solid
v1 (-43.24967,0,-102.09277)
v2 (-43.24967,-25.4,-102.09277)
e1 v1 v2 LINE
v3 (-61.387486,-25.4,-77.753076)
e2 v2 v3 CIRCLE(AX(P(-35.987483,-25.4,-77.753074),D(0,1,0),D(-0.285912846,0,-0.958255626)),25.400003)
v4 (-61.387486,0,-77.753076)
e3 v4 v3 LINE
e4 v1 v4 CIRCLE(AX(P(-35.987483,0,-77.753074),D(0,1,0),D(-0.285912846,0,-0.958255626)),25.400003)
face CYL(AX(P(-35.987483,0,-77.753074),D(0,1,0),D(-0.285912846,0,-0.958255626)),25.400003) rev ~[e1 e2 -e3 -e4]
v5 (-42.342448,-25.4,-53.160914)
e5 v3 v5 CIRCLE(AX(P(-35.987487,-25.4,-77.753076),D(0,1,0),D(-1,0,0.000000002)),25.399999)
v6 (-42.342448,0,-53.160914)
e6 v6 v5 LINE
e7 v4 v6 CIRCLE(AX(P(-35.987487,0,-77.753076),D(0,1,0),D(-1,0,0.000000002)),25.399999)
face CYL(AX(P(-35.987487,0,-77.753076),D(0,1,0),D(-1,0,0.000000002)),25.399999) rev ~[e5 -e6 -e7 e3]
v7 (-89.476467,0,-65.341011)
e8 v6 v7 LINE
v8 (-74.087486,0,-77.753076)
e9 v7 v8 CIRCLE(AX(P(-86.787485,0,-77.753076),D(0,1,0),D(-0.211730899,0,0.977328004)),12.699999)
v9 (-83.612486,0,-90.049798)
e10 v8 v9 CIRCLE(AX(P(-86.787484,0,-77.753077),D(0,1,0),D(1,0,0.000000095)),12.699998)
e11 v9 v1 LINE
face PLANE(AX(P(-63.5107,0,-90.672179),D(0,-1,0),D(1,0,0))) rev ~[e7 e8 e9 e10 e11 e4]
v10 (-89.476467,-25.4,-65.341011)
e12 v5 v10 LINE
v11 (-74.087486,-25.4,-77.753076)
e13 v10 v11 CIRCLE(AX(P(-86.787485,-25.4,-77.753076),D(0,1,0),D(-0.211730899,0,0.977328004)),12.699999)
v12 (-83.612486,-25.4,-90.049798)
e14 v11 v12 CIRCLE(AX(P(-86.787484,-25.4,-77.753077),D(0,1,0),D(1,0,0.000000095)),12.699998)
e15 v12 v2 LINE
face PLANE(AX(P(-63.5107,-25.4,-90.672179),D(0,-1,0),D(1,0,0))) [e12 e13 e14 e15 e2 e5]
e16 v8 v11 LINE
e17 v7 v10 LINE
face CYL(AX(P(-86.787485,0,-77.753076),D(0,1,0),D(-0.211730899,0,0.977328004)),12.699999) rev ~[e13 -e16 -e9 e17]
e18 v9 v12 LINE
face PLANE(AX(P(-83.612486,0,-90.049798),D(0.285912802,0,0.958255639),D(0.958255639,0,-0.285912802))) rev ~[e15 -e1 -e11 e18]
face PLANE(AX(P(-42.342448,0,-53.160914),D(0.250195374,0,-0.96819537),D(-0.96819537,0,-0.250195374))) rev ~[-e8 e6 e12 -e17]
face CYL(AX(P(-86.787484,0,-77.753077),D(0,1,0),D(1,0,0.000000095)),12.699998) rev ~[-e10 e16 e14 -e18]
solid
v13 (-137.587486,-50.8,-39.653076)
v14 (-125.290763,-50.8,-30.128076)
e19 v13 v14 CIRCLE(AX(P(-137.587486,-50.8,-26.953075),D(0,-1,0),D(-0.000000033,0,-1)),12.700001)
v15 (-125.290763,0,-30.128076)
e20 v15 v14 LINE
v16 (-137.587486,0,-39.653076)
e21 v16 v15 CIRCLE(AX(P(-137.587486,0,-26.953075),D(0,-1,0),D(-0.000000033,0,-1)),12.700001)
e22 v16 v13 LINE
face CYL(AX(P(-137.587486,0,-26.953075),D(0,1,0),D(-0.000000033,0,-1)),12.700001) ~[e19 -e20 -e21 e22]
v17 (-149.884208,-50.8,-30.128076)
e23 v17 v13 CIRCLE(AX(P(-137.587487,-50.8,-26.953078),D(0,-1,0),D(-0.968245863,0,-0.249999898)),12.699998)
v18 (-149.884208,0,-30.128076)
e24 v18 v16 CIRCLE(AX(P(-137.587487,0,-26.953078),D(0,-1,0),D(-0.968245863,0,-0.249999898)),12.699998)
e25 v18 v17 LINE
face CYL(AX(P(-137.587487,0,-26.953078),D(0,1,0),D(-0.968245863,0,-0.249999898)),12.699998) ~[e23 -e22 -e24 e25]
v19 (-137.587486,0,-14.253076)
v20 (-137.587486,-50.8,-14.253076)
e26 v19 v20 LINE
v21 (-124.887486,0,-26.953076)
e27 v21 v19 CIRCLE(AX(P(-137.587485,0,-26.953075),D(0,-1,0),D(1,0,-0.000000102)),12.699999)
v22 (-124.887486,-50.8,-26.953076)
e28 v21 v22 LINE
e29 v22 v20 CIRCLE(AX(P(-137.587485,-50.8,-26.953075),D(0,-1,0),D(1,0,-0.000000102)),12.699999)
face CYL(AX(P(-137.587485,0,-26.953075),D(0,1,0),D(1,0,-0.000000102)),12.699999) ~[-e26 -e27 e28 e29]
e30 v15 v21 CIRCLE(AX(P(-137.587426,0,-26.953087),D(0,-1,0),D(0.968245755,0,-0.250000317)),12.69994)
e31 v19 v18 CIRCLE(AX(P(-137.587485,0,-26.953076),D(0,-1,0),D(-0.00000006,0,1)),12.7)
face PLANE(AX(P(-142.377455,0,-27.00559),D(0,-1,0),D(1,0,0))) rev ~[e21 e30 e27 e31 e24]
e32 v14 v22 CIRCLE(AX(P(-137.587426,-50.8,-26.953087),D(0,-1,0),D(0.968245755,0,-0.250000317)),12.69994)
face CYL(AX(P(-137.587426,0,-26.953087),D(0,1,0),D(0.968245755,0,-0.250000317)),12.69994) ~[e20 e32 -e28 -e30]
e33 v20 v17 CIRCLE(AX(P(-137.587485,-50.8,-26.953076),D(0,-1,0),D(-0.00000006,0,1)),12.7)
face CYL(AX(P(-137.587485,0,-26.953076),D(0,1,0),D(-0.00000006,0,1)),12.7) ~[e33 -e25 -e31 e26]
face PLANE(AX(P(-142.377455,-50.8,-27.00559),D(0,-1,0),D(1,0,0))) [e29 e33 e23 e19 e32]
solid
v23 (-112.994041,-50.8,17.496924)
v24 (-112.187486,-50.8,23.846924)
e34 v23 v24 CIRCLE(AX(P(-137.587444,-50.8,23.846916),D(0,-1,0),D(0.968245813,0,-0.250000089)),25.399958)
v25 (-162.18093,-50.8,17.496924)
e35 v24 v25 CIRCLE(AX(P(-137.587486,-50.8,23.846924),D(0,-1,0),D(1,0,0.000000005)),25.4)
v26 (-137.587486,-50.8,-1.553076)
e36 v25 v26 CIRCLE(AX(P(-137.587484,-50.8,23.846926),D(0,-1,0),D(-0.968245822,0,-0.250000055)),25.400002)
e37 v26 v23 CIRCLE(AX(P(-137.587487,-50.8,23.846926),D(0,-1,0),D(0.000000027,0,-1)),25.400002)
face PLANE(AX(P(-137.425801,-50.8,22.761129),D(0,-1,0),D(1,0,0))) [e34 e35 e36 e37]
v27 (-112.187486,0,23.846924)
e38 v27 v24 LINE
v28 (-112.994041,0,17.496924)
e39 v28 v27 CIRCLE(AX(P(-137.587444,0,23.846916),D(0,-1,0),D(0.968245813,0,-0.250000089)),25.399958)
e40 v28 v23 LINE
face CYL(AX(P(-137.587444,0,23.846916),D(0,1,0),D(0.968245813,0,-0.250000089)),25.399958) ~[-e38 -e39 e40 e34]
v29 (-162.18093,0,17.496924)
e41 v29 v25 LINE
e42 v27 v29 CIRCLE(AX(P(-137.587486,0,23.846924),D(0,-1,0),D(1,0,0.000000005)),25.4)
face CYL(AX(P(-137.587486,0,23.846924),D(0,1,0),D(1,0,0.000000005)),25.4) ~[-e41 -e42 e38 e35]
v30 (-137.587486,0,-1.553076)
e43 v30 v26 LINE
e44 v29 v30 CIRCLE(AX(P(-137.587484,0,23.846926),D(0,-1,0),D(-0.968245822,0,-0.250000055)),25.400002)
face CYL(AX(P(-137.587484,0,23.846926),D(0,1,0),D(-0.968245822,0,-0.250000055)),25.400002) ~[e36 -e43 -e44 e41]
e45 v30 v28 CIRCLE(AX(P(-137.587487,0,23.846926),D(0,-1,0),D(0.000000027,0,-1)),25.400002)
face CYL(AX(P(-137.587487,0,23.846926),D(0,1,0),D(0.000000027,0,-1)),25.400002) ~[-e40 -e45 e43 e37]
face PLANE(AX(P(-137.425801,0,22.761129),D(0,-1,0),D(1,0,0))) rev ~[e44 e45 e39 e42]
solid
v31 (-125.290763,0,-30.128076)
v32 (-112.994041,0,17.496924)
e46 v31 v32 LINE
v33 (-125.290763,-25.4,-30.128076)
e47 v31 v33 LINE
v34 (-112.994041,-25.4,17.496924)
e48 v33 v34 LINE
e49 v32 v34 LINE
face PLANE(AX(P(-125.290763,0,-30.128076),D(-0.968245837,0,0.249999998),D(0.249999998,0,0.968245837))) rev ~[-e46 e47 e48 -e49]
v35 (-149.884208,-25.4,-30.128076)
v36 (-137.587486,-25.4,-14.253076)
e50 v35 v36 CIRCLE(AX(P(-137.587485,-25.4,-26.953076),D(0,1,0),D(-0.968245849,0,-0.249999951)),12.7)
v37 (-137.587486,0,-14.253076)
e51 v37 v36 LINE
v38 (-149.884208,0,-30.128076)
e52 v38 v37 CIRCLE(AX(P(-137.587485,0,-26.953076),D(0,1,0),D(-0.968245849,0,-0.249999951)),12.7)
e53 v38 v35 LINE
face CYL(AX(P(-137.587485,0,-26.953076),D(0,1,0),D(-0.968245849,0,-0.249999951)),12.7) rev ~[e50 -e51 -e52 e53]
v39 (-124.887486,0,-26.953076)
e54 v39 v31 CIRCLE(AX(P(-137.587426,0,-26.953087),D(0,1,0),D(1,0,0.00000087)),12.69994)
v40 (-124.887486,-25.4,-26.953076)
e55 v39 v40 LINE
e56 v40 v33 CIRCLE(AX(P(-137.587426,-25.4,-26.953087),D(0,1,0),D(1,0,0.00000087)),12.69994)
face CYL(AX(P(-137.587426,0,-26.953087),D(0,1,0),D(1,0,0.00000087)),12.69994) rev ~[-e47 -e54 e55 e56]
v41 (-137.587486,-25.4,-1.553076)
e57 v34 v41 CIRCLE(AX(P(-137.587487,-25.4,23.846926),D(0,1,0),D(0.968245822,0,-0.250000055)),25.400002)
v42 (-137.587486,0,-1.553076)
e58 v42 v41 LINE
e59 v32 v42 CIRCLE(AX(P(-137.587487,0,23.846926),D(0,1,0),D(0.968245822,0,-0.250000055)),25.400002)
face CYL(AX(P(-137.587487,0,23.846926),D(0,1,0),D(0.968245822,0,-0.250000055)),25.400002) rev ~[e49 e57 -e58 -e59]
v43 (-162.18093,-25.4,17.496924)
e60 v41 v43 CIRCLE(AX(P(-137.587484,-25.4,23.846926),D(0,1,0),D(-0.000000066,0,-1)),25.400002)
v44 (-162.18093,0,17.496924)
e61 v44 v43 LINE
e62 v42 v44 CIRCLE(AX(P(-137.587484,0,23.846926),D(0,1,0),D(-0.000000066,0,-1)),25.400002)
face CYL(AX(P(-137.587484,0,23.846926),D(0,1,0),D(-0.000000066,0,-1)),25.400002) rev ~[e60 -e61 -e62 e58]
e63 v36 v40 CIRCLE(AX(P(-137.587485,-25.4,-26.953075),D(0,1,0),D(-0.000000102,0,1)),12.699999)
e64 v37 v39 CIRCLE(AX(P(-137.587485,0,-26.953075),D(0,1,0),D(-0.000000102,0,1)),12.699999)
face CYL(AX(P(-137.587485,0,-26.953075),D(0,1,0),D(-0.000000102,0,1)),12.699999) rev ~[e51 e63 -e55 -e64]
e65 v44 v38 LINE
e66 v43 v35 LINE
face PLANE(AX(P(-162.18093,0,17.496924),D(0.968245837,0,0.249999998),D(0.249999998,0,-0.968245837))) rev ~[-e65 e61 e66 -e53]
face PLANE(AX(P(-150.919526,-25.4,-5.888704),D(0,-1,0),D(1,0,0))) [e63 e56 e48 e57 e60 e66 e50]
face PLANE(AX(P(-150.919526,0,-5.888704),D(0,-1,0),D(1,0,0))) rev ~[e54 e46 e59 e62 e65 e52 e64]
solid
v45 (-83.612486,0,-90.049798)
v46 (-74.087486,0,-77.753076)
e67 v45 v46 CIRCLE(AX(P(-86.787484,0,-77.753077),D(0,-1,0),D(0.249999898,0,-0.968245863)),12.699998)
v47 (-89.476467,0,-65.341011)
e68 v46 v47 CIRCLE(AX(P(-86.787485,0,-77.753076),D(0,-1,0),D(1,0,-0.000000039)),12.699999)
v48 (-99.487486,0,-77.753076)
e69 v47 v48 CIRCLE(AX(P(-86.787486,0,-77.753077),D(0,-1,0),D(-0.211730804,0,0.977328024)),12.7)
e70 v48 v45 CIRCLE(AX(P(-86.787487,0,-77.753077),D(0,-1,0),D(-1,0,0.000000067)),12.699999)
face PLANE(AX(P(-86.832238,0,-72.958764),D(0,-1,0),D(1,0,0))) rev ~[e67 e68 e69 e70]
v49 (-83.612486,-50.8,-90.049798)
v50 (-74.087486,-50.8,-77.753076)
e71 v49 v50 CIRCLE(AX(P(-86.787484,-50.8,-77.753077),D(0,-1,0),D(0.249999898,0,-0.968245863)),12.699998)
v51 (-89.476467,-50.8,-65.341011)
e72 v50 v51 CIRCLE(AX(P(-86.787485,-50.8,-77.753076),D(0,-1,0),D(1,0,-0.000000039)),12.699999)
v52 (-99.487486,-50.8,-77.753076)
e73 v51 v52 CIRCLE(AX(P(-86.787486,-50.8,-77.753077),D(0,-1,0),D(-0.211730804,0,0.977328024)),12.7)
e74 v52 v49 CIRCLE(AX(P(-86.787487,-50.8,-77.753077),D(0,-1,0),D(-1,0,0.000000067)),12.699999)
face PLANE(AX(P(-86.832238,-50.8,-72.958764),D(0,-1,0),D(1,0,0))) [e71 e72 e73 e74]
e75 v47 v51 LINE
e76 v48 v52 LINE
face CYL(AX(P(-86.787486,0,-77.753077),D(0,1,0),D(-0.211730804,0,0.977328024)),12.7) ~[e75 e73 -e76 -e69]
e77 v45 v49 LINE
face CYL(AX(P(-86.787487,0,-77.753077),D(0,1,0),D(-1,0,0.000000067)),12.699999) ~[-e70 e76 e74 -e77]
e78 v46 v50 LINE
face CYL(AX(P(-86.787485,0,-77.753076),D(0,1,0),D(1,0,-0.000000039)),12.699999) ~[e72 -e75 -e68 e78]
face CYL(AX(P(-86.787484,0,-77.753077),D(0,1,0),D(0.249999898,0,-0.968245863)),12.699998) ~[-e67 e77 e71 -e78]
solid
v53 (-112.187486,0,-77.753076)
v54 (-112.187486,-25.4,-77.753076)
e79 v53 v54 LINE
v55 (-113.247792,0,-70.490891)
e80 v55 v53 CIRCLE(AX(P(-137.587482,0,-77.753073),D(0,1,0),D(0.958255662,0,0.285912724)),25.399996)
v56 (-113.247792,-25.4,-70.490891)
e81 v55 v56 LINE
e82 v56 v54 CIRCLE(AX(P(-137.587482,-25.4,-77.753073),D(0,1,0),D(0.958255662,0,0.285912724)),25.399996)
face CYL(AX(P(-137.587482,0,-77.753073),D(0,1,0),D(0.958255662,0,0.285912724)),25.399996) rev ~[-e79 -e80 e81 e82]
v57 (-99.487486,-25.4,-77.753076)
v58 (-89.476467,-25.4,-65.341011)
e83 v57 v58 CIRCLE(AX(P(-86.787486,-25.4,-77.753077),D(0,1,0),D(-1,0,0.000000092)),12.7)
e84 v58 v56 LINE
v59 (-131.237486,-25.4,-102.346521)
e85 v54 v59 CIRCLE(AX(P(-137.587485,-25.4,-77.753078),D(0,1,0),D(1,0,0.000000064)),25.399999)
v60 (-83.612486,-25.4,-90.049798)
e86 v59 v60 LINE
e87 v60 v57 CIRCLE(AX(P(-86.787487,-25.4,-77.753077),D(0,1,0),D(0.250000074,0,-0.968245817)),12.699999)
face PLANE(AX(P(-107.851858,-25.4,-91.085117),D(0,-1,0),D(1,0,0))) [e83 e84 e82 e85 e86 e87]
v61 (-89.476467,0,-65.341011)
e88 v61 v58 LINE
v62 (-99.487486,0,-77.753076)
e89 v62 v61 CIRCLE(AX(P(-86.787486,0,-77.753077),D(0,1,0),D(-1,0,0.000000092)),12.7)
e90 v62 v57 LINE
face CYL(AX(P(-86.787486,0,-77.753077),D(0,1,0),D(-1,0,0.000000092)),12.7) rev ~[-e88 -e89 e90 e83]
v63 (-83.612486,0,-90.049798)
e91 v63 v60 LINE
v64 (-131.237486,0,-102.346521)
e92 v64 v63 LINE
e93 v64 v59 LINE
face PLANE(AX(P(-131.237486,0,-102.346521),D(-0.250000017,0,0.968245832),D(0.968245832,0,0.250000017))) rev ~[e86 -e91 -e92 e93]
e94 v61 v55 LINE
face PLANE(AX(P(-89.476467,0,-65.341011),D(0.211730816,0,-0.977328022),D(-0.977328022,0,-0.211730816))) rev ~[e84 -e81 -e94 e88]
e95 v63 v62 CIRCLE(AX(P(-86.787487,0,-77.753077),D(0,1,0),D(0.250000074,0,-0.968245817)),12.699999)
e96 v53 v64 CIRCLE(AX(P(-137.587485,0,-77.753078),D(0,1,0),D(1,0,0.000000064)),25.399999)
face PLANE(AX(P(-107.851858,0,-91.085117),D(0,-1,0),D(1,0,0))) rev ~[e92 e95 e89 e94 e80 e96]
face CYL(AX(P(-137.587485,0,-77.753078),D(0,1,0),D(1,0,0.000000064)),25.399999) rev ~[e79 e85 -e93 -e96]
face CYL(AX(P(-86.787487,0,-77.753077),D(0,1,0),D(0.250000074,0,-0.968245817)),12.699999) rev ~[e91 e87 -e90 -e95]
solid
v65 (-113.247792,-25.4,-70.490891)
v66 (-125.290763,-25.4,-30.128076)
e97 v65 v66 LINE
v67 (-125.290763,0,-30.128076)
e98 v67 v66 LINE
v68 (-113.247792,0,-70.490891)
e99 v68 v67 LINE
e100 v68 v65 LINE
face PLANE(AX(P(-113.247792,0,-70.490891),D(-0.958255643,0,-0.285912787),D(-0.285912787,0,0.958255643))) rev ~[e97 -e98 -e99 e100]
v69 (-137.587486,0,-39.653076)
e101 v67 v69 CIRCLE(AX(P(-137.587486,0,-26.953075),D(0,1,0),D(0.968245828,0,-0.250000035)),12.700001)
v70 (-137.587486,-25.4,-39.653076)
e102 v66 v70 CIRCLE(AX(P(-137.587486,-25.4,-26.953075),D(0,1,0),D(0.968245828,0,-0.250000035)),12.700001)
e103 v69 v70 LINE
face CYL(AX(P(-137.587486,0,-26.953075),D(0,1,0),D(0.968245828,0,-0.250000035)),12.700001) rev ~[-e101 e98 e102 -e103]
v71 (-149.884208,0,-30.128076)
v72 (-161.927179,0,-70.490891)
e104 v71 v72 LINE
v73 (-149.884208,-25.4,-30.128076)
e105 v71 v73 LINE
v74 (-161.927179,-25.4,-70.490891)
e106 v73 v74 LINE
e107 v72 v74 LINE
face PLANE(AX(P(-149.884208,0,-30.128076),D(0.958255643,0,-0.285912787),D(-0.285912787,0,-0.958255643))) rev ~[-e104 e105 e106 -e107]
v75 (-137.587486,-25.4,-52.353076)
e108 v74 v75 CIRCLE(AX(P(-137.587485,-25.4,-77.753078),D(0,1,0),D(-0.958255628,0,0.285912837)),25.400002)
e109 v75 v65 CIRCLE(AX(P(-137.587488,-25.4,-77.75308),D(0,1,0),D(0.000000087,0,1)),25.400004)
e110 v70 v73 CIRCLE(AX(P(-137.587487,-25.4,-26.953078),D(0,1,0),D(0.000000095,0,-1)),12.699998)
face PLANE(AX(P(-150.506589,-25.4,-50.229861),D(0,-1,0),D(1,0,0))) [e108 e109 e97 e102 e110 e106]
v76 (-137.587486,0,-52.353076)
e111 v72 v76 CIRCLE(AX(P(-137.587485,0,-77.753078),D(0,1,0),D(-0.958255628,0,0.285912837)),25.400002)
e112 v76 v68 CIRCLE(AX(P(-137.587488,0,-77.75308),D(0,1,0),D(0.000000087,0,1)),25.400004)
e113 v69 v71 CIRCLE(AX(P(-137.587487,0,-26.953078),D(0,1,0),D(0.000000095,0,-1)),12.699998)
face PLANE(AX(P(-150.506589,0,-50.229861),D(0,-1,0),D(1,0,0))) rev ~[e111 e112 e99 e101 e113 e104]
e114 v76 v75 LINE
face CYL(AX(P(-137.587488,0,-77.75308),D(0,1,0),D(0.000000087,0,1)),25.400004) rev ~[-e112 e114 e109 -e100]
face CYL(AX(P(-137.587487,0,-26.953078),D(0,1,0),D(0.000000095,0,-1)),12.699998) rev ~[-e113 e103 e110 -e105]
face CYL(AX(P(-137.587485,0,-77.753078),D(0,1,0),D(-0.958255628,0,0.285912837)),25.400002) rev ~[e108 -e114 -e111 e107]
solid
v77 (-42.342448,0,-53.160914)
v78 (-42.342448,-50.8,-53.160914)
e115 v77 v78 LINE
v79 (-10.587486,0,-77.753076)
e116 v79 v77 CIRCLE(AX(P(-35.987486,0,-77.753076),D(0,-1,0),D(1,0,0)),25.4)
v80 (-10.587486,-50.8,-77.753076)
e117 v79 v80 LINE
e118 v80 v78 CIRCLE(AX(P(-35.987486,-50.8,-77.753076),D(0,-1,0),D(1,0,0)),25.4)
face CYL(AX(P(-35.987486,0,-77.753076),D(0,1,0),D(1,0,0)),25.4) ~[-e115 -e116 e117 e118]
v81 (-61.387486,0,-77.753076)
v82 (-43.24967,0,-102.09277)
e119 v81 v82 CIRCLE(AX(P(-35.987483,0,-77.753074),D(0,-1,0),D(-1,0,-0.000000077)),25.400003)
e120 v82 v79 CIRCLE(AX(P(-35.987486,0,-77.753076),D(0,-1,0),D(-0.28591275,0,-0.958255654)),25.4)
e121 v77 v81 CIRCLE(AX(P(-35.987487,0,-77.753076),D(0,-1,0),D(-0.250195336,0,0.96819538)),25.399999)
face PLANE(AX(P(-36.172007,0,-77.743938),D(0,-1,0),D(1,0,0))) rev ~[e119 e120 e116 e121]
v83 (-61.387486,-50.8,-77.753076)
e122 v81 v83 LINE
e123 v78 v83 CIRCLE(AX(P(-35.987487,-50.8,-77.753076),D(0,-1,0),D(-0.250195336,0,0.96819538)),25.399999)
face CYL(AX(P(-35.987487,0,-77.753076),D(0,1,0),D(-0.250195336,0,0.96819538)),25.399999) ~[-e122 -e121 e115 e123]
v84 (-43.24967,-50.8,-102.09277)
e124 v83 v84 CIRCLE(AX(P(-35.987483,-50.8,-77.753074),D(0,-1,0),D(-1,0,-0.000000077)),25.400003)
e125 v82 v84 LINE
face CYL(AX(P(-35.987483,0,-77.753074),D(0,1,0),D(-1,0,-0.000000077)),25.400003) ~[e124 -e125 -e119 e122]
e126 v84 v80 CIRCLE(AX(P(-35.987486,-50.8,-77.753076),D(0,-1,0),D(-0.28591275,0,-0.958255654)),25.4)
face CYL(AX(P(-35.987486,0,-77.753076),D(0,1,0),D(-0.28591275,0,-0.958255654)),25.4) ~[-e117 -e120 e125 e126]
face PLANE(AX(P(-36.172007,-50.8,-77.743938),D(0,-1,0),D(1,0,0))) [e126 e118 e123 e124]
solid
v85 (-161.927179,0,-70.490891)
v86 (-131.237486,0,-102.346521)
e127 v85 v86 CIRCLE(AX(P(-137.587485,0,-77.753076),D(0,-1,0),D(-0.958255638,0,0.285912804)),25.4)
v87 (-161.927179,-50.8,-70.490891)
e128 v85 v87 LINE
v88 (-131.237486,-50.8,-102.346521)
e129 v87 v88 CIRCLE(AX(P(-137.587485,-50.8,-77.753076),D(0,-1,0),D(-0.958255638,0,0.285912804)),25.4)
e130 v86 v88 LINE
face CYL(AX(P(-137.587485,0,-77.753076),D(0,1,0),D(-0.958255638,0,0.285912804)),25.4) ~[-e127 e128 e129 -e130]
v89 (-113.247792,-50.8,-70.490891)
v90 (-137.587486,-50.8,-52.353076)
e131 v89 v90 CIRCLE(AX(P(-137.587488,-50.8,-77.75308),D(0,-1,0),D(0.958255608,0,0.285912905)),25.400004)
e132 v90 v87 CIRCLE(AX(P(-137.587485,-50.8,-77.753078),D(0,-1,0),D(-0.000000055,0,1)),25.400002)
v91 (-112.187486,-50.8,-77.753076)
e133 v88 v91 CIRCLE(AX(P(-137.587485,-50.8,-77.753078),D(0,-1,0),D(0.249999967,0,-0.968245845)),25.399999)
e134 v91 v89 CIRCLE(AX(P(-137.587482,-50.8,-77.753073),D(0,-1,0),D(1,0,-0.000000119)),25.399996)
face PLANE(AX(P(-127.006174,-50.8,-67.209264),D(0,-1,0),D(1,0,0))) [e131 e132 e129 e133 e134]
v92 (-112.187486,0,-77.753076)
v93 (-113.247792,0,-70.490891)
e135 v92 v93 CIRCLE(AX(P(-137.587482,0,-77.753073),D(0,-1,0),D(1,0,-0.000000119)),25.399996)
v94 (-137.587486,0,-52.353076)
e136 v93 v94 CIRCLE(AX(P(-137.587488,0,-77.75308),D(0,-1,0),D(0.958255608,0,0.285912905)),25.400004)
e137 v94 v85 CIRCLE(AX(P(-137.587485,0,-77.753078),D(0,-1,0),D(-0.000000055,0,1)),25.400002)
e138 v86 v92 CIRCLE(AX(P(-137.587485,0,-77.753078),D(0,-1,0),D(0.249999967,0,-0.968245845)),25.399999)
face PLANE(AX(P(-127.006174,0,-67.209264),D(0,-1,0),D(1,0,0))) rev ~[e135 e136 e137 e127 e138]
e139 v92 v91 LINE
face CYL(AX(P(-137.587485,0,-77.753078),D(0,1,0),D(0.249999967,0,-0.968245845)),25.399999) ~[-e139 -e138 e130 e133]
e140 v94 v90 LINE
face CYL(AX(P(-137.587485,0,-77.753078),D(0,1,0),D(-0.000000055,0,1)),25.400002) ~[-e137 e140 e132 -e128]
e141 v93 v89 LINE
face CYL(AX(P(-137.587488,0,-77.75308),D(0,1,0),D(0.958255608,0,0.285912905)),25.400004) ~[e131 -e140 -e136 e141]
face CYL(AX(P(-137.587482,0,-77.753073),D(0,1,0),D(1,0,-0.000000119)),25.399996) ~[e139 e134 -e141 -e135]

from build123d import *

# Parameters (mm, degrees)
F1_DEPTH = 50.8
F2_DEPTH = 25.4


with BuildPart() as f1:
    # F0 (on Front) → F1 (new body)
    with BuildSketch(Plane.XZ):
        with BuildLine():
            ThreePointArc((-137.587486, -1.553076), (-122.033226, 3.766461), (-112.994041, 17.496924))
            ThreePointArc((-112.994041, 17.496924), (-112.389931, 20.646415), (-112.187486, 23.846924))
            ThreePointArc((-112.187486, 23.846924), (-140.787995, 49.044478), (-162.18093, 17.496924))
            ThreePointArc((-162.18093, 17.496924), (-153.141745, 3.766461), (-137.587486, -1.553076))
        make_face()
        with BuildLine():
            ThreePointArc((-149.884208, -30.128076), (-145.364616, -36.993308), (-137.587486, -39.653076))
            Line((-137.587486, -39.653076), (-137.587486, -26.953076))
            Line((-137.587486, -26.953076), (-137.587486, -14.253076))
            ThreePointArc((-137.587486, -14.253076), (-147.627717, -19.175946), (-149.884208, -30.128076))
        make_face()
        with BuildLine():
            Line((-137.587486, -52.353076), (-137.587486, -77.753076))
            Line((-137.587486, -77.753076), (-112.187486, -77.753076))
            ThreePointArc((-112.187486, -77.753076), (-112.45396, -74.083486), (-113.247792, -70.490891))
            ThreePointArc((-113.247792, -70.490891), (-122.410192, -57.386198), (-137.587486, -52.353076))
        make_face()
        with BuildLine():
            Line((-112.187486, -77.753076), (-137.587486, -77.753076))
            Line((-137.587486, -77.753076), (-137.587486, -52.353076))
            ThreePointArc((-137.587486, -52.353076), (-152.76478, -57.386198), (-161.927179, -70.490891))
            ThreePointArc((-161.927179, -70.490891), (-155.87963, -95.375717), (-131.237486, -102.346521))
            ThreePointArc((-131.237486, -102.346521), (-117.507022, -93.307336), (-112.187486, -77.753076))
        make_face()
        with BuildLine():
            Line((-137.587486, -26.953076), (-137.587486, -39.653076))
            ThreePointArc((-137.587486, -39.653076), (-129.810356, -36.993308), (-125.290763, -30.128076))
            ThreePointArc((-125.290763, -30.128076), (-124.988708, -28.553331), (-124.887486, -26.953076))
            ThreePointArc((-124.887486, -26.953076), (-128.607229, -17.97282), (-137.587486, -14.253076))
            Line((-137.587486, -14.253076), (-137.587486, -26.953076))
        make_face()
        with BuildLine():
            ThreePointArc((-89.476467, -65.341011), (-96.67283, -69.779999), (-99.487486, -77.753076))
            Line((-99.487486, -77.753076), (-86.787486, -77.753076))
            Line((-86.787486, -77.753076), (-74.087486, -77.753076))
            ThreePointArc((-74.087486, -77.753076), (-78.814408, -67.867732), (-89.476467, -65.341011))
        make_face()
        with BuildLine():
            Line((-86.787486, -77.753076), (-99.487486, -77.753076))
            ThreePointArc((-99.487486, -77.753076), (-94.564616, -87.793308), (-83.612486, -90.049798))
            ThreePointArc((-83.612486, -90.049798), (-76.747254, -85.530206), (-74.087486, -77.753076))
            Line((-74.087486, -77.753076), (-86.787486, -77.753076))
        make_face()
        with BuildLine():
            ThreePointArc((-10.587486, -77.753076), (-20.435252, -57.671044), (-42.342448, -53.160914))
            ThreePointArc((-42.342448, -53.160914), (-56.069518, -62.200842), (-61.387486, -77.753076))
            ThreePointArc((-61.387486, -77.753076), (-56.354364, -92.93037), (-43.24967, -102.09277))
            ThreePointArc((-43.24967, -102.09277), (-20.810192, -98.119955), (-10.587486, -77.753076))
        make_face()
    extrude(amount=F1_DEPTH)


with BuildPart() as f2:
    # F0 (on Front) → F2 (new body)
    with BuildSketch(Plane.XZ):
        with BuildLine():
            Line((-162.18093, 17.496924), (-149.884208, -30.128076))
            ThreePointArc((-149.884208, -30.128076), (-147.627717, -19.175946), (-137.587486, -14.253076))
            Line((-137.587486, -14.253076), (-137.587486, -1.553076))
            ThreePointArc((-137.587486, -1.553076), (-153.141745, 3.766461), (-162.18093, 17.496924))
        make_face()
        with BuildLine():
            ThreePointArc((-124.887486, -26.953076), (-124.988708, -28.553331), (-125.290763, -30.128076))
            Line((-125.290763, -30.128076), (-112.994041, 17.496924))
            ThreePointArc((-112.994041, 17.496924), (-122.033226, 3.766461), (-137.587486, -1.553076))
            Line((-137.587486, -1.553076), (-137.587486, -14.253076))
            ThreePointArc((-137.587486, -14.253076), (-128.607229, -17.97282), (-124.887486, -26.953076))
        make_face()
        with BuildLine():
            ThreePointArc((-161.927179, -70.490891), (-152.76478, -57.386198), (-137.587486, -52.353076))
            Line((-137.587486, -52.353076), (-137.587486, -39.653076))
            ThreePointArc((-137.587486, -39.653076), (-145.364616, -36.993308), (-149.884208, -30.128076))
            Line((-149.884208, -30.128076), (-161.927179, -70.490891))
        make_face()
        with BuildLine():
            Line((-137.587486, -39.653076), (-137.587486, -52.353076))
            ThreePointArc((-137.587486, -52.353076), (-122.410192, -57.386198), (-113.247792, -70.490891))
            Line((-113.247792, -70.490891), (-125.290763, -30.128076))
            ThreePointArc((-125.290763, -30.128076), (-129.810356, -36.993308), (-137.587486, -39.653076))
        make_face()
        with BuildLine():
            Line((-99.487486, -77.753076), (-112.187486, -77.753076))
            ThreePointArc((-112.187486, -77.753076), (-117.507022, -93.307336), (-131.237486, -102.346521))
            Line((-131.237486, -102.346521), (-83.612486, -90.049798))
            ThreePointArc((-83.612486, -90.049798), (-94.564616, -87.793308), (-99.487486, -77.753076))
        make_face()
        with BuildLine():
            ThreePointArc((-113.247792, -70.490891), (-112.45396, -74.083486), (-112.187486, -77.753076))
            Line((-112.187486, -77.753076), (-99.487486, -77.753076))
            ThreePointArc((-99.487486, -77.753076), (-96.67283, -69.779999), (-89.476467, -65.341011))
            Line((-89.476467, -65.341011), (-113.247792, -70.490891))
        make_face()
        with BuildLine():
            ThreePointArc((-74.087486, -77.753076), (-76.747254, -85.530206), (-83.612486, -90.049798))
            Line((-83.612486, -90.049798), (-43.24967, -102.09277))
            ThreePointArc((-43.24967, -102.09277), (-56.354364, -92.93037), (-61.387486, -77.753076))
            Line((-61.387486, -77.753076), (-74.087486, -77.753076))
        make_face()
        with BuildLine():
            Line((-42.342448, -53.160914), (-89.476467, -65.341011))
            ThreePointArc((-89.476467, -65.341011), (-78.814408, -67.867732), (-74.087486, -77.753076))
            Line((-74.087486, -77.753076), (-61.387486, -77.753076))
            ThreePointArc((-61.387486, -77.753076), (-56.069518, -62.200842), (-42.342448, -53.160914))
        make_face()
    extrude(amount=F2_DEPTH)


solid = Compound([f1.part, f2.part])
